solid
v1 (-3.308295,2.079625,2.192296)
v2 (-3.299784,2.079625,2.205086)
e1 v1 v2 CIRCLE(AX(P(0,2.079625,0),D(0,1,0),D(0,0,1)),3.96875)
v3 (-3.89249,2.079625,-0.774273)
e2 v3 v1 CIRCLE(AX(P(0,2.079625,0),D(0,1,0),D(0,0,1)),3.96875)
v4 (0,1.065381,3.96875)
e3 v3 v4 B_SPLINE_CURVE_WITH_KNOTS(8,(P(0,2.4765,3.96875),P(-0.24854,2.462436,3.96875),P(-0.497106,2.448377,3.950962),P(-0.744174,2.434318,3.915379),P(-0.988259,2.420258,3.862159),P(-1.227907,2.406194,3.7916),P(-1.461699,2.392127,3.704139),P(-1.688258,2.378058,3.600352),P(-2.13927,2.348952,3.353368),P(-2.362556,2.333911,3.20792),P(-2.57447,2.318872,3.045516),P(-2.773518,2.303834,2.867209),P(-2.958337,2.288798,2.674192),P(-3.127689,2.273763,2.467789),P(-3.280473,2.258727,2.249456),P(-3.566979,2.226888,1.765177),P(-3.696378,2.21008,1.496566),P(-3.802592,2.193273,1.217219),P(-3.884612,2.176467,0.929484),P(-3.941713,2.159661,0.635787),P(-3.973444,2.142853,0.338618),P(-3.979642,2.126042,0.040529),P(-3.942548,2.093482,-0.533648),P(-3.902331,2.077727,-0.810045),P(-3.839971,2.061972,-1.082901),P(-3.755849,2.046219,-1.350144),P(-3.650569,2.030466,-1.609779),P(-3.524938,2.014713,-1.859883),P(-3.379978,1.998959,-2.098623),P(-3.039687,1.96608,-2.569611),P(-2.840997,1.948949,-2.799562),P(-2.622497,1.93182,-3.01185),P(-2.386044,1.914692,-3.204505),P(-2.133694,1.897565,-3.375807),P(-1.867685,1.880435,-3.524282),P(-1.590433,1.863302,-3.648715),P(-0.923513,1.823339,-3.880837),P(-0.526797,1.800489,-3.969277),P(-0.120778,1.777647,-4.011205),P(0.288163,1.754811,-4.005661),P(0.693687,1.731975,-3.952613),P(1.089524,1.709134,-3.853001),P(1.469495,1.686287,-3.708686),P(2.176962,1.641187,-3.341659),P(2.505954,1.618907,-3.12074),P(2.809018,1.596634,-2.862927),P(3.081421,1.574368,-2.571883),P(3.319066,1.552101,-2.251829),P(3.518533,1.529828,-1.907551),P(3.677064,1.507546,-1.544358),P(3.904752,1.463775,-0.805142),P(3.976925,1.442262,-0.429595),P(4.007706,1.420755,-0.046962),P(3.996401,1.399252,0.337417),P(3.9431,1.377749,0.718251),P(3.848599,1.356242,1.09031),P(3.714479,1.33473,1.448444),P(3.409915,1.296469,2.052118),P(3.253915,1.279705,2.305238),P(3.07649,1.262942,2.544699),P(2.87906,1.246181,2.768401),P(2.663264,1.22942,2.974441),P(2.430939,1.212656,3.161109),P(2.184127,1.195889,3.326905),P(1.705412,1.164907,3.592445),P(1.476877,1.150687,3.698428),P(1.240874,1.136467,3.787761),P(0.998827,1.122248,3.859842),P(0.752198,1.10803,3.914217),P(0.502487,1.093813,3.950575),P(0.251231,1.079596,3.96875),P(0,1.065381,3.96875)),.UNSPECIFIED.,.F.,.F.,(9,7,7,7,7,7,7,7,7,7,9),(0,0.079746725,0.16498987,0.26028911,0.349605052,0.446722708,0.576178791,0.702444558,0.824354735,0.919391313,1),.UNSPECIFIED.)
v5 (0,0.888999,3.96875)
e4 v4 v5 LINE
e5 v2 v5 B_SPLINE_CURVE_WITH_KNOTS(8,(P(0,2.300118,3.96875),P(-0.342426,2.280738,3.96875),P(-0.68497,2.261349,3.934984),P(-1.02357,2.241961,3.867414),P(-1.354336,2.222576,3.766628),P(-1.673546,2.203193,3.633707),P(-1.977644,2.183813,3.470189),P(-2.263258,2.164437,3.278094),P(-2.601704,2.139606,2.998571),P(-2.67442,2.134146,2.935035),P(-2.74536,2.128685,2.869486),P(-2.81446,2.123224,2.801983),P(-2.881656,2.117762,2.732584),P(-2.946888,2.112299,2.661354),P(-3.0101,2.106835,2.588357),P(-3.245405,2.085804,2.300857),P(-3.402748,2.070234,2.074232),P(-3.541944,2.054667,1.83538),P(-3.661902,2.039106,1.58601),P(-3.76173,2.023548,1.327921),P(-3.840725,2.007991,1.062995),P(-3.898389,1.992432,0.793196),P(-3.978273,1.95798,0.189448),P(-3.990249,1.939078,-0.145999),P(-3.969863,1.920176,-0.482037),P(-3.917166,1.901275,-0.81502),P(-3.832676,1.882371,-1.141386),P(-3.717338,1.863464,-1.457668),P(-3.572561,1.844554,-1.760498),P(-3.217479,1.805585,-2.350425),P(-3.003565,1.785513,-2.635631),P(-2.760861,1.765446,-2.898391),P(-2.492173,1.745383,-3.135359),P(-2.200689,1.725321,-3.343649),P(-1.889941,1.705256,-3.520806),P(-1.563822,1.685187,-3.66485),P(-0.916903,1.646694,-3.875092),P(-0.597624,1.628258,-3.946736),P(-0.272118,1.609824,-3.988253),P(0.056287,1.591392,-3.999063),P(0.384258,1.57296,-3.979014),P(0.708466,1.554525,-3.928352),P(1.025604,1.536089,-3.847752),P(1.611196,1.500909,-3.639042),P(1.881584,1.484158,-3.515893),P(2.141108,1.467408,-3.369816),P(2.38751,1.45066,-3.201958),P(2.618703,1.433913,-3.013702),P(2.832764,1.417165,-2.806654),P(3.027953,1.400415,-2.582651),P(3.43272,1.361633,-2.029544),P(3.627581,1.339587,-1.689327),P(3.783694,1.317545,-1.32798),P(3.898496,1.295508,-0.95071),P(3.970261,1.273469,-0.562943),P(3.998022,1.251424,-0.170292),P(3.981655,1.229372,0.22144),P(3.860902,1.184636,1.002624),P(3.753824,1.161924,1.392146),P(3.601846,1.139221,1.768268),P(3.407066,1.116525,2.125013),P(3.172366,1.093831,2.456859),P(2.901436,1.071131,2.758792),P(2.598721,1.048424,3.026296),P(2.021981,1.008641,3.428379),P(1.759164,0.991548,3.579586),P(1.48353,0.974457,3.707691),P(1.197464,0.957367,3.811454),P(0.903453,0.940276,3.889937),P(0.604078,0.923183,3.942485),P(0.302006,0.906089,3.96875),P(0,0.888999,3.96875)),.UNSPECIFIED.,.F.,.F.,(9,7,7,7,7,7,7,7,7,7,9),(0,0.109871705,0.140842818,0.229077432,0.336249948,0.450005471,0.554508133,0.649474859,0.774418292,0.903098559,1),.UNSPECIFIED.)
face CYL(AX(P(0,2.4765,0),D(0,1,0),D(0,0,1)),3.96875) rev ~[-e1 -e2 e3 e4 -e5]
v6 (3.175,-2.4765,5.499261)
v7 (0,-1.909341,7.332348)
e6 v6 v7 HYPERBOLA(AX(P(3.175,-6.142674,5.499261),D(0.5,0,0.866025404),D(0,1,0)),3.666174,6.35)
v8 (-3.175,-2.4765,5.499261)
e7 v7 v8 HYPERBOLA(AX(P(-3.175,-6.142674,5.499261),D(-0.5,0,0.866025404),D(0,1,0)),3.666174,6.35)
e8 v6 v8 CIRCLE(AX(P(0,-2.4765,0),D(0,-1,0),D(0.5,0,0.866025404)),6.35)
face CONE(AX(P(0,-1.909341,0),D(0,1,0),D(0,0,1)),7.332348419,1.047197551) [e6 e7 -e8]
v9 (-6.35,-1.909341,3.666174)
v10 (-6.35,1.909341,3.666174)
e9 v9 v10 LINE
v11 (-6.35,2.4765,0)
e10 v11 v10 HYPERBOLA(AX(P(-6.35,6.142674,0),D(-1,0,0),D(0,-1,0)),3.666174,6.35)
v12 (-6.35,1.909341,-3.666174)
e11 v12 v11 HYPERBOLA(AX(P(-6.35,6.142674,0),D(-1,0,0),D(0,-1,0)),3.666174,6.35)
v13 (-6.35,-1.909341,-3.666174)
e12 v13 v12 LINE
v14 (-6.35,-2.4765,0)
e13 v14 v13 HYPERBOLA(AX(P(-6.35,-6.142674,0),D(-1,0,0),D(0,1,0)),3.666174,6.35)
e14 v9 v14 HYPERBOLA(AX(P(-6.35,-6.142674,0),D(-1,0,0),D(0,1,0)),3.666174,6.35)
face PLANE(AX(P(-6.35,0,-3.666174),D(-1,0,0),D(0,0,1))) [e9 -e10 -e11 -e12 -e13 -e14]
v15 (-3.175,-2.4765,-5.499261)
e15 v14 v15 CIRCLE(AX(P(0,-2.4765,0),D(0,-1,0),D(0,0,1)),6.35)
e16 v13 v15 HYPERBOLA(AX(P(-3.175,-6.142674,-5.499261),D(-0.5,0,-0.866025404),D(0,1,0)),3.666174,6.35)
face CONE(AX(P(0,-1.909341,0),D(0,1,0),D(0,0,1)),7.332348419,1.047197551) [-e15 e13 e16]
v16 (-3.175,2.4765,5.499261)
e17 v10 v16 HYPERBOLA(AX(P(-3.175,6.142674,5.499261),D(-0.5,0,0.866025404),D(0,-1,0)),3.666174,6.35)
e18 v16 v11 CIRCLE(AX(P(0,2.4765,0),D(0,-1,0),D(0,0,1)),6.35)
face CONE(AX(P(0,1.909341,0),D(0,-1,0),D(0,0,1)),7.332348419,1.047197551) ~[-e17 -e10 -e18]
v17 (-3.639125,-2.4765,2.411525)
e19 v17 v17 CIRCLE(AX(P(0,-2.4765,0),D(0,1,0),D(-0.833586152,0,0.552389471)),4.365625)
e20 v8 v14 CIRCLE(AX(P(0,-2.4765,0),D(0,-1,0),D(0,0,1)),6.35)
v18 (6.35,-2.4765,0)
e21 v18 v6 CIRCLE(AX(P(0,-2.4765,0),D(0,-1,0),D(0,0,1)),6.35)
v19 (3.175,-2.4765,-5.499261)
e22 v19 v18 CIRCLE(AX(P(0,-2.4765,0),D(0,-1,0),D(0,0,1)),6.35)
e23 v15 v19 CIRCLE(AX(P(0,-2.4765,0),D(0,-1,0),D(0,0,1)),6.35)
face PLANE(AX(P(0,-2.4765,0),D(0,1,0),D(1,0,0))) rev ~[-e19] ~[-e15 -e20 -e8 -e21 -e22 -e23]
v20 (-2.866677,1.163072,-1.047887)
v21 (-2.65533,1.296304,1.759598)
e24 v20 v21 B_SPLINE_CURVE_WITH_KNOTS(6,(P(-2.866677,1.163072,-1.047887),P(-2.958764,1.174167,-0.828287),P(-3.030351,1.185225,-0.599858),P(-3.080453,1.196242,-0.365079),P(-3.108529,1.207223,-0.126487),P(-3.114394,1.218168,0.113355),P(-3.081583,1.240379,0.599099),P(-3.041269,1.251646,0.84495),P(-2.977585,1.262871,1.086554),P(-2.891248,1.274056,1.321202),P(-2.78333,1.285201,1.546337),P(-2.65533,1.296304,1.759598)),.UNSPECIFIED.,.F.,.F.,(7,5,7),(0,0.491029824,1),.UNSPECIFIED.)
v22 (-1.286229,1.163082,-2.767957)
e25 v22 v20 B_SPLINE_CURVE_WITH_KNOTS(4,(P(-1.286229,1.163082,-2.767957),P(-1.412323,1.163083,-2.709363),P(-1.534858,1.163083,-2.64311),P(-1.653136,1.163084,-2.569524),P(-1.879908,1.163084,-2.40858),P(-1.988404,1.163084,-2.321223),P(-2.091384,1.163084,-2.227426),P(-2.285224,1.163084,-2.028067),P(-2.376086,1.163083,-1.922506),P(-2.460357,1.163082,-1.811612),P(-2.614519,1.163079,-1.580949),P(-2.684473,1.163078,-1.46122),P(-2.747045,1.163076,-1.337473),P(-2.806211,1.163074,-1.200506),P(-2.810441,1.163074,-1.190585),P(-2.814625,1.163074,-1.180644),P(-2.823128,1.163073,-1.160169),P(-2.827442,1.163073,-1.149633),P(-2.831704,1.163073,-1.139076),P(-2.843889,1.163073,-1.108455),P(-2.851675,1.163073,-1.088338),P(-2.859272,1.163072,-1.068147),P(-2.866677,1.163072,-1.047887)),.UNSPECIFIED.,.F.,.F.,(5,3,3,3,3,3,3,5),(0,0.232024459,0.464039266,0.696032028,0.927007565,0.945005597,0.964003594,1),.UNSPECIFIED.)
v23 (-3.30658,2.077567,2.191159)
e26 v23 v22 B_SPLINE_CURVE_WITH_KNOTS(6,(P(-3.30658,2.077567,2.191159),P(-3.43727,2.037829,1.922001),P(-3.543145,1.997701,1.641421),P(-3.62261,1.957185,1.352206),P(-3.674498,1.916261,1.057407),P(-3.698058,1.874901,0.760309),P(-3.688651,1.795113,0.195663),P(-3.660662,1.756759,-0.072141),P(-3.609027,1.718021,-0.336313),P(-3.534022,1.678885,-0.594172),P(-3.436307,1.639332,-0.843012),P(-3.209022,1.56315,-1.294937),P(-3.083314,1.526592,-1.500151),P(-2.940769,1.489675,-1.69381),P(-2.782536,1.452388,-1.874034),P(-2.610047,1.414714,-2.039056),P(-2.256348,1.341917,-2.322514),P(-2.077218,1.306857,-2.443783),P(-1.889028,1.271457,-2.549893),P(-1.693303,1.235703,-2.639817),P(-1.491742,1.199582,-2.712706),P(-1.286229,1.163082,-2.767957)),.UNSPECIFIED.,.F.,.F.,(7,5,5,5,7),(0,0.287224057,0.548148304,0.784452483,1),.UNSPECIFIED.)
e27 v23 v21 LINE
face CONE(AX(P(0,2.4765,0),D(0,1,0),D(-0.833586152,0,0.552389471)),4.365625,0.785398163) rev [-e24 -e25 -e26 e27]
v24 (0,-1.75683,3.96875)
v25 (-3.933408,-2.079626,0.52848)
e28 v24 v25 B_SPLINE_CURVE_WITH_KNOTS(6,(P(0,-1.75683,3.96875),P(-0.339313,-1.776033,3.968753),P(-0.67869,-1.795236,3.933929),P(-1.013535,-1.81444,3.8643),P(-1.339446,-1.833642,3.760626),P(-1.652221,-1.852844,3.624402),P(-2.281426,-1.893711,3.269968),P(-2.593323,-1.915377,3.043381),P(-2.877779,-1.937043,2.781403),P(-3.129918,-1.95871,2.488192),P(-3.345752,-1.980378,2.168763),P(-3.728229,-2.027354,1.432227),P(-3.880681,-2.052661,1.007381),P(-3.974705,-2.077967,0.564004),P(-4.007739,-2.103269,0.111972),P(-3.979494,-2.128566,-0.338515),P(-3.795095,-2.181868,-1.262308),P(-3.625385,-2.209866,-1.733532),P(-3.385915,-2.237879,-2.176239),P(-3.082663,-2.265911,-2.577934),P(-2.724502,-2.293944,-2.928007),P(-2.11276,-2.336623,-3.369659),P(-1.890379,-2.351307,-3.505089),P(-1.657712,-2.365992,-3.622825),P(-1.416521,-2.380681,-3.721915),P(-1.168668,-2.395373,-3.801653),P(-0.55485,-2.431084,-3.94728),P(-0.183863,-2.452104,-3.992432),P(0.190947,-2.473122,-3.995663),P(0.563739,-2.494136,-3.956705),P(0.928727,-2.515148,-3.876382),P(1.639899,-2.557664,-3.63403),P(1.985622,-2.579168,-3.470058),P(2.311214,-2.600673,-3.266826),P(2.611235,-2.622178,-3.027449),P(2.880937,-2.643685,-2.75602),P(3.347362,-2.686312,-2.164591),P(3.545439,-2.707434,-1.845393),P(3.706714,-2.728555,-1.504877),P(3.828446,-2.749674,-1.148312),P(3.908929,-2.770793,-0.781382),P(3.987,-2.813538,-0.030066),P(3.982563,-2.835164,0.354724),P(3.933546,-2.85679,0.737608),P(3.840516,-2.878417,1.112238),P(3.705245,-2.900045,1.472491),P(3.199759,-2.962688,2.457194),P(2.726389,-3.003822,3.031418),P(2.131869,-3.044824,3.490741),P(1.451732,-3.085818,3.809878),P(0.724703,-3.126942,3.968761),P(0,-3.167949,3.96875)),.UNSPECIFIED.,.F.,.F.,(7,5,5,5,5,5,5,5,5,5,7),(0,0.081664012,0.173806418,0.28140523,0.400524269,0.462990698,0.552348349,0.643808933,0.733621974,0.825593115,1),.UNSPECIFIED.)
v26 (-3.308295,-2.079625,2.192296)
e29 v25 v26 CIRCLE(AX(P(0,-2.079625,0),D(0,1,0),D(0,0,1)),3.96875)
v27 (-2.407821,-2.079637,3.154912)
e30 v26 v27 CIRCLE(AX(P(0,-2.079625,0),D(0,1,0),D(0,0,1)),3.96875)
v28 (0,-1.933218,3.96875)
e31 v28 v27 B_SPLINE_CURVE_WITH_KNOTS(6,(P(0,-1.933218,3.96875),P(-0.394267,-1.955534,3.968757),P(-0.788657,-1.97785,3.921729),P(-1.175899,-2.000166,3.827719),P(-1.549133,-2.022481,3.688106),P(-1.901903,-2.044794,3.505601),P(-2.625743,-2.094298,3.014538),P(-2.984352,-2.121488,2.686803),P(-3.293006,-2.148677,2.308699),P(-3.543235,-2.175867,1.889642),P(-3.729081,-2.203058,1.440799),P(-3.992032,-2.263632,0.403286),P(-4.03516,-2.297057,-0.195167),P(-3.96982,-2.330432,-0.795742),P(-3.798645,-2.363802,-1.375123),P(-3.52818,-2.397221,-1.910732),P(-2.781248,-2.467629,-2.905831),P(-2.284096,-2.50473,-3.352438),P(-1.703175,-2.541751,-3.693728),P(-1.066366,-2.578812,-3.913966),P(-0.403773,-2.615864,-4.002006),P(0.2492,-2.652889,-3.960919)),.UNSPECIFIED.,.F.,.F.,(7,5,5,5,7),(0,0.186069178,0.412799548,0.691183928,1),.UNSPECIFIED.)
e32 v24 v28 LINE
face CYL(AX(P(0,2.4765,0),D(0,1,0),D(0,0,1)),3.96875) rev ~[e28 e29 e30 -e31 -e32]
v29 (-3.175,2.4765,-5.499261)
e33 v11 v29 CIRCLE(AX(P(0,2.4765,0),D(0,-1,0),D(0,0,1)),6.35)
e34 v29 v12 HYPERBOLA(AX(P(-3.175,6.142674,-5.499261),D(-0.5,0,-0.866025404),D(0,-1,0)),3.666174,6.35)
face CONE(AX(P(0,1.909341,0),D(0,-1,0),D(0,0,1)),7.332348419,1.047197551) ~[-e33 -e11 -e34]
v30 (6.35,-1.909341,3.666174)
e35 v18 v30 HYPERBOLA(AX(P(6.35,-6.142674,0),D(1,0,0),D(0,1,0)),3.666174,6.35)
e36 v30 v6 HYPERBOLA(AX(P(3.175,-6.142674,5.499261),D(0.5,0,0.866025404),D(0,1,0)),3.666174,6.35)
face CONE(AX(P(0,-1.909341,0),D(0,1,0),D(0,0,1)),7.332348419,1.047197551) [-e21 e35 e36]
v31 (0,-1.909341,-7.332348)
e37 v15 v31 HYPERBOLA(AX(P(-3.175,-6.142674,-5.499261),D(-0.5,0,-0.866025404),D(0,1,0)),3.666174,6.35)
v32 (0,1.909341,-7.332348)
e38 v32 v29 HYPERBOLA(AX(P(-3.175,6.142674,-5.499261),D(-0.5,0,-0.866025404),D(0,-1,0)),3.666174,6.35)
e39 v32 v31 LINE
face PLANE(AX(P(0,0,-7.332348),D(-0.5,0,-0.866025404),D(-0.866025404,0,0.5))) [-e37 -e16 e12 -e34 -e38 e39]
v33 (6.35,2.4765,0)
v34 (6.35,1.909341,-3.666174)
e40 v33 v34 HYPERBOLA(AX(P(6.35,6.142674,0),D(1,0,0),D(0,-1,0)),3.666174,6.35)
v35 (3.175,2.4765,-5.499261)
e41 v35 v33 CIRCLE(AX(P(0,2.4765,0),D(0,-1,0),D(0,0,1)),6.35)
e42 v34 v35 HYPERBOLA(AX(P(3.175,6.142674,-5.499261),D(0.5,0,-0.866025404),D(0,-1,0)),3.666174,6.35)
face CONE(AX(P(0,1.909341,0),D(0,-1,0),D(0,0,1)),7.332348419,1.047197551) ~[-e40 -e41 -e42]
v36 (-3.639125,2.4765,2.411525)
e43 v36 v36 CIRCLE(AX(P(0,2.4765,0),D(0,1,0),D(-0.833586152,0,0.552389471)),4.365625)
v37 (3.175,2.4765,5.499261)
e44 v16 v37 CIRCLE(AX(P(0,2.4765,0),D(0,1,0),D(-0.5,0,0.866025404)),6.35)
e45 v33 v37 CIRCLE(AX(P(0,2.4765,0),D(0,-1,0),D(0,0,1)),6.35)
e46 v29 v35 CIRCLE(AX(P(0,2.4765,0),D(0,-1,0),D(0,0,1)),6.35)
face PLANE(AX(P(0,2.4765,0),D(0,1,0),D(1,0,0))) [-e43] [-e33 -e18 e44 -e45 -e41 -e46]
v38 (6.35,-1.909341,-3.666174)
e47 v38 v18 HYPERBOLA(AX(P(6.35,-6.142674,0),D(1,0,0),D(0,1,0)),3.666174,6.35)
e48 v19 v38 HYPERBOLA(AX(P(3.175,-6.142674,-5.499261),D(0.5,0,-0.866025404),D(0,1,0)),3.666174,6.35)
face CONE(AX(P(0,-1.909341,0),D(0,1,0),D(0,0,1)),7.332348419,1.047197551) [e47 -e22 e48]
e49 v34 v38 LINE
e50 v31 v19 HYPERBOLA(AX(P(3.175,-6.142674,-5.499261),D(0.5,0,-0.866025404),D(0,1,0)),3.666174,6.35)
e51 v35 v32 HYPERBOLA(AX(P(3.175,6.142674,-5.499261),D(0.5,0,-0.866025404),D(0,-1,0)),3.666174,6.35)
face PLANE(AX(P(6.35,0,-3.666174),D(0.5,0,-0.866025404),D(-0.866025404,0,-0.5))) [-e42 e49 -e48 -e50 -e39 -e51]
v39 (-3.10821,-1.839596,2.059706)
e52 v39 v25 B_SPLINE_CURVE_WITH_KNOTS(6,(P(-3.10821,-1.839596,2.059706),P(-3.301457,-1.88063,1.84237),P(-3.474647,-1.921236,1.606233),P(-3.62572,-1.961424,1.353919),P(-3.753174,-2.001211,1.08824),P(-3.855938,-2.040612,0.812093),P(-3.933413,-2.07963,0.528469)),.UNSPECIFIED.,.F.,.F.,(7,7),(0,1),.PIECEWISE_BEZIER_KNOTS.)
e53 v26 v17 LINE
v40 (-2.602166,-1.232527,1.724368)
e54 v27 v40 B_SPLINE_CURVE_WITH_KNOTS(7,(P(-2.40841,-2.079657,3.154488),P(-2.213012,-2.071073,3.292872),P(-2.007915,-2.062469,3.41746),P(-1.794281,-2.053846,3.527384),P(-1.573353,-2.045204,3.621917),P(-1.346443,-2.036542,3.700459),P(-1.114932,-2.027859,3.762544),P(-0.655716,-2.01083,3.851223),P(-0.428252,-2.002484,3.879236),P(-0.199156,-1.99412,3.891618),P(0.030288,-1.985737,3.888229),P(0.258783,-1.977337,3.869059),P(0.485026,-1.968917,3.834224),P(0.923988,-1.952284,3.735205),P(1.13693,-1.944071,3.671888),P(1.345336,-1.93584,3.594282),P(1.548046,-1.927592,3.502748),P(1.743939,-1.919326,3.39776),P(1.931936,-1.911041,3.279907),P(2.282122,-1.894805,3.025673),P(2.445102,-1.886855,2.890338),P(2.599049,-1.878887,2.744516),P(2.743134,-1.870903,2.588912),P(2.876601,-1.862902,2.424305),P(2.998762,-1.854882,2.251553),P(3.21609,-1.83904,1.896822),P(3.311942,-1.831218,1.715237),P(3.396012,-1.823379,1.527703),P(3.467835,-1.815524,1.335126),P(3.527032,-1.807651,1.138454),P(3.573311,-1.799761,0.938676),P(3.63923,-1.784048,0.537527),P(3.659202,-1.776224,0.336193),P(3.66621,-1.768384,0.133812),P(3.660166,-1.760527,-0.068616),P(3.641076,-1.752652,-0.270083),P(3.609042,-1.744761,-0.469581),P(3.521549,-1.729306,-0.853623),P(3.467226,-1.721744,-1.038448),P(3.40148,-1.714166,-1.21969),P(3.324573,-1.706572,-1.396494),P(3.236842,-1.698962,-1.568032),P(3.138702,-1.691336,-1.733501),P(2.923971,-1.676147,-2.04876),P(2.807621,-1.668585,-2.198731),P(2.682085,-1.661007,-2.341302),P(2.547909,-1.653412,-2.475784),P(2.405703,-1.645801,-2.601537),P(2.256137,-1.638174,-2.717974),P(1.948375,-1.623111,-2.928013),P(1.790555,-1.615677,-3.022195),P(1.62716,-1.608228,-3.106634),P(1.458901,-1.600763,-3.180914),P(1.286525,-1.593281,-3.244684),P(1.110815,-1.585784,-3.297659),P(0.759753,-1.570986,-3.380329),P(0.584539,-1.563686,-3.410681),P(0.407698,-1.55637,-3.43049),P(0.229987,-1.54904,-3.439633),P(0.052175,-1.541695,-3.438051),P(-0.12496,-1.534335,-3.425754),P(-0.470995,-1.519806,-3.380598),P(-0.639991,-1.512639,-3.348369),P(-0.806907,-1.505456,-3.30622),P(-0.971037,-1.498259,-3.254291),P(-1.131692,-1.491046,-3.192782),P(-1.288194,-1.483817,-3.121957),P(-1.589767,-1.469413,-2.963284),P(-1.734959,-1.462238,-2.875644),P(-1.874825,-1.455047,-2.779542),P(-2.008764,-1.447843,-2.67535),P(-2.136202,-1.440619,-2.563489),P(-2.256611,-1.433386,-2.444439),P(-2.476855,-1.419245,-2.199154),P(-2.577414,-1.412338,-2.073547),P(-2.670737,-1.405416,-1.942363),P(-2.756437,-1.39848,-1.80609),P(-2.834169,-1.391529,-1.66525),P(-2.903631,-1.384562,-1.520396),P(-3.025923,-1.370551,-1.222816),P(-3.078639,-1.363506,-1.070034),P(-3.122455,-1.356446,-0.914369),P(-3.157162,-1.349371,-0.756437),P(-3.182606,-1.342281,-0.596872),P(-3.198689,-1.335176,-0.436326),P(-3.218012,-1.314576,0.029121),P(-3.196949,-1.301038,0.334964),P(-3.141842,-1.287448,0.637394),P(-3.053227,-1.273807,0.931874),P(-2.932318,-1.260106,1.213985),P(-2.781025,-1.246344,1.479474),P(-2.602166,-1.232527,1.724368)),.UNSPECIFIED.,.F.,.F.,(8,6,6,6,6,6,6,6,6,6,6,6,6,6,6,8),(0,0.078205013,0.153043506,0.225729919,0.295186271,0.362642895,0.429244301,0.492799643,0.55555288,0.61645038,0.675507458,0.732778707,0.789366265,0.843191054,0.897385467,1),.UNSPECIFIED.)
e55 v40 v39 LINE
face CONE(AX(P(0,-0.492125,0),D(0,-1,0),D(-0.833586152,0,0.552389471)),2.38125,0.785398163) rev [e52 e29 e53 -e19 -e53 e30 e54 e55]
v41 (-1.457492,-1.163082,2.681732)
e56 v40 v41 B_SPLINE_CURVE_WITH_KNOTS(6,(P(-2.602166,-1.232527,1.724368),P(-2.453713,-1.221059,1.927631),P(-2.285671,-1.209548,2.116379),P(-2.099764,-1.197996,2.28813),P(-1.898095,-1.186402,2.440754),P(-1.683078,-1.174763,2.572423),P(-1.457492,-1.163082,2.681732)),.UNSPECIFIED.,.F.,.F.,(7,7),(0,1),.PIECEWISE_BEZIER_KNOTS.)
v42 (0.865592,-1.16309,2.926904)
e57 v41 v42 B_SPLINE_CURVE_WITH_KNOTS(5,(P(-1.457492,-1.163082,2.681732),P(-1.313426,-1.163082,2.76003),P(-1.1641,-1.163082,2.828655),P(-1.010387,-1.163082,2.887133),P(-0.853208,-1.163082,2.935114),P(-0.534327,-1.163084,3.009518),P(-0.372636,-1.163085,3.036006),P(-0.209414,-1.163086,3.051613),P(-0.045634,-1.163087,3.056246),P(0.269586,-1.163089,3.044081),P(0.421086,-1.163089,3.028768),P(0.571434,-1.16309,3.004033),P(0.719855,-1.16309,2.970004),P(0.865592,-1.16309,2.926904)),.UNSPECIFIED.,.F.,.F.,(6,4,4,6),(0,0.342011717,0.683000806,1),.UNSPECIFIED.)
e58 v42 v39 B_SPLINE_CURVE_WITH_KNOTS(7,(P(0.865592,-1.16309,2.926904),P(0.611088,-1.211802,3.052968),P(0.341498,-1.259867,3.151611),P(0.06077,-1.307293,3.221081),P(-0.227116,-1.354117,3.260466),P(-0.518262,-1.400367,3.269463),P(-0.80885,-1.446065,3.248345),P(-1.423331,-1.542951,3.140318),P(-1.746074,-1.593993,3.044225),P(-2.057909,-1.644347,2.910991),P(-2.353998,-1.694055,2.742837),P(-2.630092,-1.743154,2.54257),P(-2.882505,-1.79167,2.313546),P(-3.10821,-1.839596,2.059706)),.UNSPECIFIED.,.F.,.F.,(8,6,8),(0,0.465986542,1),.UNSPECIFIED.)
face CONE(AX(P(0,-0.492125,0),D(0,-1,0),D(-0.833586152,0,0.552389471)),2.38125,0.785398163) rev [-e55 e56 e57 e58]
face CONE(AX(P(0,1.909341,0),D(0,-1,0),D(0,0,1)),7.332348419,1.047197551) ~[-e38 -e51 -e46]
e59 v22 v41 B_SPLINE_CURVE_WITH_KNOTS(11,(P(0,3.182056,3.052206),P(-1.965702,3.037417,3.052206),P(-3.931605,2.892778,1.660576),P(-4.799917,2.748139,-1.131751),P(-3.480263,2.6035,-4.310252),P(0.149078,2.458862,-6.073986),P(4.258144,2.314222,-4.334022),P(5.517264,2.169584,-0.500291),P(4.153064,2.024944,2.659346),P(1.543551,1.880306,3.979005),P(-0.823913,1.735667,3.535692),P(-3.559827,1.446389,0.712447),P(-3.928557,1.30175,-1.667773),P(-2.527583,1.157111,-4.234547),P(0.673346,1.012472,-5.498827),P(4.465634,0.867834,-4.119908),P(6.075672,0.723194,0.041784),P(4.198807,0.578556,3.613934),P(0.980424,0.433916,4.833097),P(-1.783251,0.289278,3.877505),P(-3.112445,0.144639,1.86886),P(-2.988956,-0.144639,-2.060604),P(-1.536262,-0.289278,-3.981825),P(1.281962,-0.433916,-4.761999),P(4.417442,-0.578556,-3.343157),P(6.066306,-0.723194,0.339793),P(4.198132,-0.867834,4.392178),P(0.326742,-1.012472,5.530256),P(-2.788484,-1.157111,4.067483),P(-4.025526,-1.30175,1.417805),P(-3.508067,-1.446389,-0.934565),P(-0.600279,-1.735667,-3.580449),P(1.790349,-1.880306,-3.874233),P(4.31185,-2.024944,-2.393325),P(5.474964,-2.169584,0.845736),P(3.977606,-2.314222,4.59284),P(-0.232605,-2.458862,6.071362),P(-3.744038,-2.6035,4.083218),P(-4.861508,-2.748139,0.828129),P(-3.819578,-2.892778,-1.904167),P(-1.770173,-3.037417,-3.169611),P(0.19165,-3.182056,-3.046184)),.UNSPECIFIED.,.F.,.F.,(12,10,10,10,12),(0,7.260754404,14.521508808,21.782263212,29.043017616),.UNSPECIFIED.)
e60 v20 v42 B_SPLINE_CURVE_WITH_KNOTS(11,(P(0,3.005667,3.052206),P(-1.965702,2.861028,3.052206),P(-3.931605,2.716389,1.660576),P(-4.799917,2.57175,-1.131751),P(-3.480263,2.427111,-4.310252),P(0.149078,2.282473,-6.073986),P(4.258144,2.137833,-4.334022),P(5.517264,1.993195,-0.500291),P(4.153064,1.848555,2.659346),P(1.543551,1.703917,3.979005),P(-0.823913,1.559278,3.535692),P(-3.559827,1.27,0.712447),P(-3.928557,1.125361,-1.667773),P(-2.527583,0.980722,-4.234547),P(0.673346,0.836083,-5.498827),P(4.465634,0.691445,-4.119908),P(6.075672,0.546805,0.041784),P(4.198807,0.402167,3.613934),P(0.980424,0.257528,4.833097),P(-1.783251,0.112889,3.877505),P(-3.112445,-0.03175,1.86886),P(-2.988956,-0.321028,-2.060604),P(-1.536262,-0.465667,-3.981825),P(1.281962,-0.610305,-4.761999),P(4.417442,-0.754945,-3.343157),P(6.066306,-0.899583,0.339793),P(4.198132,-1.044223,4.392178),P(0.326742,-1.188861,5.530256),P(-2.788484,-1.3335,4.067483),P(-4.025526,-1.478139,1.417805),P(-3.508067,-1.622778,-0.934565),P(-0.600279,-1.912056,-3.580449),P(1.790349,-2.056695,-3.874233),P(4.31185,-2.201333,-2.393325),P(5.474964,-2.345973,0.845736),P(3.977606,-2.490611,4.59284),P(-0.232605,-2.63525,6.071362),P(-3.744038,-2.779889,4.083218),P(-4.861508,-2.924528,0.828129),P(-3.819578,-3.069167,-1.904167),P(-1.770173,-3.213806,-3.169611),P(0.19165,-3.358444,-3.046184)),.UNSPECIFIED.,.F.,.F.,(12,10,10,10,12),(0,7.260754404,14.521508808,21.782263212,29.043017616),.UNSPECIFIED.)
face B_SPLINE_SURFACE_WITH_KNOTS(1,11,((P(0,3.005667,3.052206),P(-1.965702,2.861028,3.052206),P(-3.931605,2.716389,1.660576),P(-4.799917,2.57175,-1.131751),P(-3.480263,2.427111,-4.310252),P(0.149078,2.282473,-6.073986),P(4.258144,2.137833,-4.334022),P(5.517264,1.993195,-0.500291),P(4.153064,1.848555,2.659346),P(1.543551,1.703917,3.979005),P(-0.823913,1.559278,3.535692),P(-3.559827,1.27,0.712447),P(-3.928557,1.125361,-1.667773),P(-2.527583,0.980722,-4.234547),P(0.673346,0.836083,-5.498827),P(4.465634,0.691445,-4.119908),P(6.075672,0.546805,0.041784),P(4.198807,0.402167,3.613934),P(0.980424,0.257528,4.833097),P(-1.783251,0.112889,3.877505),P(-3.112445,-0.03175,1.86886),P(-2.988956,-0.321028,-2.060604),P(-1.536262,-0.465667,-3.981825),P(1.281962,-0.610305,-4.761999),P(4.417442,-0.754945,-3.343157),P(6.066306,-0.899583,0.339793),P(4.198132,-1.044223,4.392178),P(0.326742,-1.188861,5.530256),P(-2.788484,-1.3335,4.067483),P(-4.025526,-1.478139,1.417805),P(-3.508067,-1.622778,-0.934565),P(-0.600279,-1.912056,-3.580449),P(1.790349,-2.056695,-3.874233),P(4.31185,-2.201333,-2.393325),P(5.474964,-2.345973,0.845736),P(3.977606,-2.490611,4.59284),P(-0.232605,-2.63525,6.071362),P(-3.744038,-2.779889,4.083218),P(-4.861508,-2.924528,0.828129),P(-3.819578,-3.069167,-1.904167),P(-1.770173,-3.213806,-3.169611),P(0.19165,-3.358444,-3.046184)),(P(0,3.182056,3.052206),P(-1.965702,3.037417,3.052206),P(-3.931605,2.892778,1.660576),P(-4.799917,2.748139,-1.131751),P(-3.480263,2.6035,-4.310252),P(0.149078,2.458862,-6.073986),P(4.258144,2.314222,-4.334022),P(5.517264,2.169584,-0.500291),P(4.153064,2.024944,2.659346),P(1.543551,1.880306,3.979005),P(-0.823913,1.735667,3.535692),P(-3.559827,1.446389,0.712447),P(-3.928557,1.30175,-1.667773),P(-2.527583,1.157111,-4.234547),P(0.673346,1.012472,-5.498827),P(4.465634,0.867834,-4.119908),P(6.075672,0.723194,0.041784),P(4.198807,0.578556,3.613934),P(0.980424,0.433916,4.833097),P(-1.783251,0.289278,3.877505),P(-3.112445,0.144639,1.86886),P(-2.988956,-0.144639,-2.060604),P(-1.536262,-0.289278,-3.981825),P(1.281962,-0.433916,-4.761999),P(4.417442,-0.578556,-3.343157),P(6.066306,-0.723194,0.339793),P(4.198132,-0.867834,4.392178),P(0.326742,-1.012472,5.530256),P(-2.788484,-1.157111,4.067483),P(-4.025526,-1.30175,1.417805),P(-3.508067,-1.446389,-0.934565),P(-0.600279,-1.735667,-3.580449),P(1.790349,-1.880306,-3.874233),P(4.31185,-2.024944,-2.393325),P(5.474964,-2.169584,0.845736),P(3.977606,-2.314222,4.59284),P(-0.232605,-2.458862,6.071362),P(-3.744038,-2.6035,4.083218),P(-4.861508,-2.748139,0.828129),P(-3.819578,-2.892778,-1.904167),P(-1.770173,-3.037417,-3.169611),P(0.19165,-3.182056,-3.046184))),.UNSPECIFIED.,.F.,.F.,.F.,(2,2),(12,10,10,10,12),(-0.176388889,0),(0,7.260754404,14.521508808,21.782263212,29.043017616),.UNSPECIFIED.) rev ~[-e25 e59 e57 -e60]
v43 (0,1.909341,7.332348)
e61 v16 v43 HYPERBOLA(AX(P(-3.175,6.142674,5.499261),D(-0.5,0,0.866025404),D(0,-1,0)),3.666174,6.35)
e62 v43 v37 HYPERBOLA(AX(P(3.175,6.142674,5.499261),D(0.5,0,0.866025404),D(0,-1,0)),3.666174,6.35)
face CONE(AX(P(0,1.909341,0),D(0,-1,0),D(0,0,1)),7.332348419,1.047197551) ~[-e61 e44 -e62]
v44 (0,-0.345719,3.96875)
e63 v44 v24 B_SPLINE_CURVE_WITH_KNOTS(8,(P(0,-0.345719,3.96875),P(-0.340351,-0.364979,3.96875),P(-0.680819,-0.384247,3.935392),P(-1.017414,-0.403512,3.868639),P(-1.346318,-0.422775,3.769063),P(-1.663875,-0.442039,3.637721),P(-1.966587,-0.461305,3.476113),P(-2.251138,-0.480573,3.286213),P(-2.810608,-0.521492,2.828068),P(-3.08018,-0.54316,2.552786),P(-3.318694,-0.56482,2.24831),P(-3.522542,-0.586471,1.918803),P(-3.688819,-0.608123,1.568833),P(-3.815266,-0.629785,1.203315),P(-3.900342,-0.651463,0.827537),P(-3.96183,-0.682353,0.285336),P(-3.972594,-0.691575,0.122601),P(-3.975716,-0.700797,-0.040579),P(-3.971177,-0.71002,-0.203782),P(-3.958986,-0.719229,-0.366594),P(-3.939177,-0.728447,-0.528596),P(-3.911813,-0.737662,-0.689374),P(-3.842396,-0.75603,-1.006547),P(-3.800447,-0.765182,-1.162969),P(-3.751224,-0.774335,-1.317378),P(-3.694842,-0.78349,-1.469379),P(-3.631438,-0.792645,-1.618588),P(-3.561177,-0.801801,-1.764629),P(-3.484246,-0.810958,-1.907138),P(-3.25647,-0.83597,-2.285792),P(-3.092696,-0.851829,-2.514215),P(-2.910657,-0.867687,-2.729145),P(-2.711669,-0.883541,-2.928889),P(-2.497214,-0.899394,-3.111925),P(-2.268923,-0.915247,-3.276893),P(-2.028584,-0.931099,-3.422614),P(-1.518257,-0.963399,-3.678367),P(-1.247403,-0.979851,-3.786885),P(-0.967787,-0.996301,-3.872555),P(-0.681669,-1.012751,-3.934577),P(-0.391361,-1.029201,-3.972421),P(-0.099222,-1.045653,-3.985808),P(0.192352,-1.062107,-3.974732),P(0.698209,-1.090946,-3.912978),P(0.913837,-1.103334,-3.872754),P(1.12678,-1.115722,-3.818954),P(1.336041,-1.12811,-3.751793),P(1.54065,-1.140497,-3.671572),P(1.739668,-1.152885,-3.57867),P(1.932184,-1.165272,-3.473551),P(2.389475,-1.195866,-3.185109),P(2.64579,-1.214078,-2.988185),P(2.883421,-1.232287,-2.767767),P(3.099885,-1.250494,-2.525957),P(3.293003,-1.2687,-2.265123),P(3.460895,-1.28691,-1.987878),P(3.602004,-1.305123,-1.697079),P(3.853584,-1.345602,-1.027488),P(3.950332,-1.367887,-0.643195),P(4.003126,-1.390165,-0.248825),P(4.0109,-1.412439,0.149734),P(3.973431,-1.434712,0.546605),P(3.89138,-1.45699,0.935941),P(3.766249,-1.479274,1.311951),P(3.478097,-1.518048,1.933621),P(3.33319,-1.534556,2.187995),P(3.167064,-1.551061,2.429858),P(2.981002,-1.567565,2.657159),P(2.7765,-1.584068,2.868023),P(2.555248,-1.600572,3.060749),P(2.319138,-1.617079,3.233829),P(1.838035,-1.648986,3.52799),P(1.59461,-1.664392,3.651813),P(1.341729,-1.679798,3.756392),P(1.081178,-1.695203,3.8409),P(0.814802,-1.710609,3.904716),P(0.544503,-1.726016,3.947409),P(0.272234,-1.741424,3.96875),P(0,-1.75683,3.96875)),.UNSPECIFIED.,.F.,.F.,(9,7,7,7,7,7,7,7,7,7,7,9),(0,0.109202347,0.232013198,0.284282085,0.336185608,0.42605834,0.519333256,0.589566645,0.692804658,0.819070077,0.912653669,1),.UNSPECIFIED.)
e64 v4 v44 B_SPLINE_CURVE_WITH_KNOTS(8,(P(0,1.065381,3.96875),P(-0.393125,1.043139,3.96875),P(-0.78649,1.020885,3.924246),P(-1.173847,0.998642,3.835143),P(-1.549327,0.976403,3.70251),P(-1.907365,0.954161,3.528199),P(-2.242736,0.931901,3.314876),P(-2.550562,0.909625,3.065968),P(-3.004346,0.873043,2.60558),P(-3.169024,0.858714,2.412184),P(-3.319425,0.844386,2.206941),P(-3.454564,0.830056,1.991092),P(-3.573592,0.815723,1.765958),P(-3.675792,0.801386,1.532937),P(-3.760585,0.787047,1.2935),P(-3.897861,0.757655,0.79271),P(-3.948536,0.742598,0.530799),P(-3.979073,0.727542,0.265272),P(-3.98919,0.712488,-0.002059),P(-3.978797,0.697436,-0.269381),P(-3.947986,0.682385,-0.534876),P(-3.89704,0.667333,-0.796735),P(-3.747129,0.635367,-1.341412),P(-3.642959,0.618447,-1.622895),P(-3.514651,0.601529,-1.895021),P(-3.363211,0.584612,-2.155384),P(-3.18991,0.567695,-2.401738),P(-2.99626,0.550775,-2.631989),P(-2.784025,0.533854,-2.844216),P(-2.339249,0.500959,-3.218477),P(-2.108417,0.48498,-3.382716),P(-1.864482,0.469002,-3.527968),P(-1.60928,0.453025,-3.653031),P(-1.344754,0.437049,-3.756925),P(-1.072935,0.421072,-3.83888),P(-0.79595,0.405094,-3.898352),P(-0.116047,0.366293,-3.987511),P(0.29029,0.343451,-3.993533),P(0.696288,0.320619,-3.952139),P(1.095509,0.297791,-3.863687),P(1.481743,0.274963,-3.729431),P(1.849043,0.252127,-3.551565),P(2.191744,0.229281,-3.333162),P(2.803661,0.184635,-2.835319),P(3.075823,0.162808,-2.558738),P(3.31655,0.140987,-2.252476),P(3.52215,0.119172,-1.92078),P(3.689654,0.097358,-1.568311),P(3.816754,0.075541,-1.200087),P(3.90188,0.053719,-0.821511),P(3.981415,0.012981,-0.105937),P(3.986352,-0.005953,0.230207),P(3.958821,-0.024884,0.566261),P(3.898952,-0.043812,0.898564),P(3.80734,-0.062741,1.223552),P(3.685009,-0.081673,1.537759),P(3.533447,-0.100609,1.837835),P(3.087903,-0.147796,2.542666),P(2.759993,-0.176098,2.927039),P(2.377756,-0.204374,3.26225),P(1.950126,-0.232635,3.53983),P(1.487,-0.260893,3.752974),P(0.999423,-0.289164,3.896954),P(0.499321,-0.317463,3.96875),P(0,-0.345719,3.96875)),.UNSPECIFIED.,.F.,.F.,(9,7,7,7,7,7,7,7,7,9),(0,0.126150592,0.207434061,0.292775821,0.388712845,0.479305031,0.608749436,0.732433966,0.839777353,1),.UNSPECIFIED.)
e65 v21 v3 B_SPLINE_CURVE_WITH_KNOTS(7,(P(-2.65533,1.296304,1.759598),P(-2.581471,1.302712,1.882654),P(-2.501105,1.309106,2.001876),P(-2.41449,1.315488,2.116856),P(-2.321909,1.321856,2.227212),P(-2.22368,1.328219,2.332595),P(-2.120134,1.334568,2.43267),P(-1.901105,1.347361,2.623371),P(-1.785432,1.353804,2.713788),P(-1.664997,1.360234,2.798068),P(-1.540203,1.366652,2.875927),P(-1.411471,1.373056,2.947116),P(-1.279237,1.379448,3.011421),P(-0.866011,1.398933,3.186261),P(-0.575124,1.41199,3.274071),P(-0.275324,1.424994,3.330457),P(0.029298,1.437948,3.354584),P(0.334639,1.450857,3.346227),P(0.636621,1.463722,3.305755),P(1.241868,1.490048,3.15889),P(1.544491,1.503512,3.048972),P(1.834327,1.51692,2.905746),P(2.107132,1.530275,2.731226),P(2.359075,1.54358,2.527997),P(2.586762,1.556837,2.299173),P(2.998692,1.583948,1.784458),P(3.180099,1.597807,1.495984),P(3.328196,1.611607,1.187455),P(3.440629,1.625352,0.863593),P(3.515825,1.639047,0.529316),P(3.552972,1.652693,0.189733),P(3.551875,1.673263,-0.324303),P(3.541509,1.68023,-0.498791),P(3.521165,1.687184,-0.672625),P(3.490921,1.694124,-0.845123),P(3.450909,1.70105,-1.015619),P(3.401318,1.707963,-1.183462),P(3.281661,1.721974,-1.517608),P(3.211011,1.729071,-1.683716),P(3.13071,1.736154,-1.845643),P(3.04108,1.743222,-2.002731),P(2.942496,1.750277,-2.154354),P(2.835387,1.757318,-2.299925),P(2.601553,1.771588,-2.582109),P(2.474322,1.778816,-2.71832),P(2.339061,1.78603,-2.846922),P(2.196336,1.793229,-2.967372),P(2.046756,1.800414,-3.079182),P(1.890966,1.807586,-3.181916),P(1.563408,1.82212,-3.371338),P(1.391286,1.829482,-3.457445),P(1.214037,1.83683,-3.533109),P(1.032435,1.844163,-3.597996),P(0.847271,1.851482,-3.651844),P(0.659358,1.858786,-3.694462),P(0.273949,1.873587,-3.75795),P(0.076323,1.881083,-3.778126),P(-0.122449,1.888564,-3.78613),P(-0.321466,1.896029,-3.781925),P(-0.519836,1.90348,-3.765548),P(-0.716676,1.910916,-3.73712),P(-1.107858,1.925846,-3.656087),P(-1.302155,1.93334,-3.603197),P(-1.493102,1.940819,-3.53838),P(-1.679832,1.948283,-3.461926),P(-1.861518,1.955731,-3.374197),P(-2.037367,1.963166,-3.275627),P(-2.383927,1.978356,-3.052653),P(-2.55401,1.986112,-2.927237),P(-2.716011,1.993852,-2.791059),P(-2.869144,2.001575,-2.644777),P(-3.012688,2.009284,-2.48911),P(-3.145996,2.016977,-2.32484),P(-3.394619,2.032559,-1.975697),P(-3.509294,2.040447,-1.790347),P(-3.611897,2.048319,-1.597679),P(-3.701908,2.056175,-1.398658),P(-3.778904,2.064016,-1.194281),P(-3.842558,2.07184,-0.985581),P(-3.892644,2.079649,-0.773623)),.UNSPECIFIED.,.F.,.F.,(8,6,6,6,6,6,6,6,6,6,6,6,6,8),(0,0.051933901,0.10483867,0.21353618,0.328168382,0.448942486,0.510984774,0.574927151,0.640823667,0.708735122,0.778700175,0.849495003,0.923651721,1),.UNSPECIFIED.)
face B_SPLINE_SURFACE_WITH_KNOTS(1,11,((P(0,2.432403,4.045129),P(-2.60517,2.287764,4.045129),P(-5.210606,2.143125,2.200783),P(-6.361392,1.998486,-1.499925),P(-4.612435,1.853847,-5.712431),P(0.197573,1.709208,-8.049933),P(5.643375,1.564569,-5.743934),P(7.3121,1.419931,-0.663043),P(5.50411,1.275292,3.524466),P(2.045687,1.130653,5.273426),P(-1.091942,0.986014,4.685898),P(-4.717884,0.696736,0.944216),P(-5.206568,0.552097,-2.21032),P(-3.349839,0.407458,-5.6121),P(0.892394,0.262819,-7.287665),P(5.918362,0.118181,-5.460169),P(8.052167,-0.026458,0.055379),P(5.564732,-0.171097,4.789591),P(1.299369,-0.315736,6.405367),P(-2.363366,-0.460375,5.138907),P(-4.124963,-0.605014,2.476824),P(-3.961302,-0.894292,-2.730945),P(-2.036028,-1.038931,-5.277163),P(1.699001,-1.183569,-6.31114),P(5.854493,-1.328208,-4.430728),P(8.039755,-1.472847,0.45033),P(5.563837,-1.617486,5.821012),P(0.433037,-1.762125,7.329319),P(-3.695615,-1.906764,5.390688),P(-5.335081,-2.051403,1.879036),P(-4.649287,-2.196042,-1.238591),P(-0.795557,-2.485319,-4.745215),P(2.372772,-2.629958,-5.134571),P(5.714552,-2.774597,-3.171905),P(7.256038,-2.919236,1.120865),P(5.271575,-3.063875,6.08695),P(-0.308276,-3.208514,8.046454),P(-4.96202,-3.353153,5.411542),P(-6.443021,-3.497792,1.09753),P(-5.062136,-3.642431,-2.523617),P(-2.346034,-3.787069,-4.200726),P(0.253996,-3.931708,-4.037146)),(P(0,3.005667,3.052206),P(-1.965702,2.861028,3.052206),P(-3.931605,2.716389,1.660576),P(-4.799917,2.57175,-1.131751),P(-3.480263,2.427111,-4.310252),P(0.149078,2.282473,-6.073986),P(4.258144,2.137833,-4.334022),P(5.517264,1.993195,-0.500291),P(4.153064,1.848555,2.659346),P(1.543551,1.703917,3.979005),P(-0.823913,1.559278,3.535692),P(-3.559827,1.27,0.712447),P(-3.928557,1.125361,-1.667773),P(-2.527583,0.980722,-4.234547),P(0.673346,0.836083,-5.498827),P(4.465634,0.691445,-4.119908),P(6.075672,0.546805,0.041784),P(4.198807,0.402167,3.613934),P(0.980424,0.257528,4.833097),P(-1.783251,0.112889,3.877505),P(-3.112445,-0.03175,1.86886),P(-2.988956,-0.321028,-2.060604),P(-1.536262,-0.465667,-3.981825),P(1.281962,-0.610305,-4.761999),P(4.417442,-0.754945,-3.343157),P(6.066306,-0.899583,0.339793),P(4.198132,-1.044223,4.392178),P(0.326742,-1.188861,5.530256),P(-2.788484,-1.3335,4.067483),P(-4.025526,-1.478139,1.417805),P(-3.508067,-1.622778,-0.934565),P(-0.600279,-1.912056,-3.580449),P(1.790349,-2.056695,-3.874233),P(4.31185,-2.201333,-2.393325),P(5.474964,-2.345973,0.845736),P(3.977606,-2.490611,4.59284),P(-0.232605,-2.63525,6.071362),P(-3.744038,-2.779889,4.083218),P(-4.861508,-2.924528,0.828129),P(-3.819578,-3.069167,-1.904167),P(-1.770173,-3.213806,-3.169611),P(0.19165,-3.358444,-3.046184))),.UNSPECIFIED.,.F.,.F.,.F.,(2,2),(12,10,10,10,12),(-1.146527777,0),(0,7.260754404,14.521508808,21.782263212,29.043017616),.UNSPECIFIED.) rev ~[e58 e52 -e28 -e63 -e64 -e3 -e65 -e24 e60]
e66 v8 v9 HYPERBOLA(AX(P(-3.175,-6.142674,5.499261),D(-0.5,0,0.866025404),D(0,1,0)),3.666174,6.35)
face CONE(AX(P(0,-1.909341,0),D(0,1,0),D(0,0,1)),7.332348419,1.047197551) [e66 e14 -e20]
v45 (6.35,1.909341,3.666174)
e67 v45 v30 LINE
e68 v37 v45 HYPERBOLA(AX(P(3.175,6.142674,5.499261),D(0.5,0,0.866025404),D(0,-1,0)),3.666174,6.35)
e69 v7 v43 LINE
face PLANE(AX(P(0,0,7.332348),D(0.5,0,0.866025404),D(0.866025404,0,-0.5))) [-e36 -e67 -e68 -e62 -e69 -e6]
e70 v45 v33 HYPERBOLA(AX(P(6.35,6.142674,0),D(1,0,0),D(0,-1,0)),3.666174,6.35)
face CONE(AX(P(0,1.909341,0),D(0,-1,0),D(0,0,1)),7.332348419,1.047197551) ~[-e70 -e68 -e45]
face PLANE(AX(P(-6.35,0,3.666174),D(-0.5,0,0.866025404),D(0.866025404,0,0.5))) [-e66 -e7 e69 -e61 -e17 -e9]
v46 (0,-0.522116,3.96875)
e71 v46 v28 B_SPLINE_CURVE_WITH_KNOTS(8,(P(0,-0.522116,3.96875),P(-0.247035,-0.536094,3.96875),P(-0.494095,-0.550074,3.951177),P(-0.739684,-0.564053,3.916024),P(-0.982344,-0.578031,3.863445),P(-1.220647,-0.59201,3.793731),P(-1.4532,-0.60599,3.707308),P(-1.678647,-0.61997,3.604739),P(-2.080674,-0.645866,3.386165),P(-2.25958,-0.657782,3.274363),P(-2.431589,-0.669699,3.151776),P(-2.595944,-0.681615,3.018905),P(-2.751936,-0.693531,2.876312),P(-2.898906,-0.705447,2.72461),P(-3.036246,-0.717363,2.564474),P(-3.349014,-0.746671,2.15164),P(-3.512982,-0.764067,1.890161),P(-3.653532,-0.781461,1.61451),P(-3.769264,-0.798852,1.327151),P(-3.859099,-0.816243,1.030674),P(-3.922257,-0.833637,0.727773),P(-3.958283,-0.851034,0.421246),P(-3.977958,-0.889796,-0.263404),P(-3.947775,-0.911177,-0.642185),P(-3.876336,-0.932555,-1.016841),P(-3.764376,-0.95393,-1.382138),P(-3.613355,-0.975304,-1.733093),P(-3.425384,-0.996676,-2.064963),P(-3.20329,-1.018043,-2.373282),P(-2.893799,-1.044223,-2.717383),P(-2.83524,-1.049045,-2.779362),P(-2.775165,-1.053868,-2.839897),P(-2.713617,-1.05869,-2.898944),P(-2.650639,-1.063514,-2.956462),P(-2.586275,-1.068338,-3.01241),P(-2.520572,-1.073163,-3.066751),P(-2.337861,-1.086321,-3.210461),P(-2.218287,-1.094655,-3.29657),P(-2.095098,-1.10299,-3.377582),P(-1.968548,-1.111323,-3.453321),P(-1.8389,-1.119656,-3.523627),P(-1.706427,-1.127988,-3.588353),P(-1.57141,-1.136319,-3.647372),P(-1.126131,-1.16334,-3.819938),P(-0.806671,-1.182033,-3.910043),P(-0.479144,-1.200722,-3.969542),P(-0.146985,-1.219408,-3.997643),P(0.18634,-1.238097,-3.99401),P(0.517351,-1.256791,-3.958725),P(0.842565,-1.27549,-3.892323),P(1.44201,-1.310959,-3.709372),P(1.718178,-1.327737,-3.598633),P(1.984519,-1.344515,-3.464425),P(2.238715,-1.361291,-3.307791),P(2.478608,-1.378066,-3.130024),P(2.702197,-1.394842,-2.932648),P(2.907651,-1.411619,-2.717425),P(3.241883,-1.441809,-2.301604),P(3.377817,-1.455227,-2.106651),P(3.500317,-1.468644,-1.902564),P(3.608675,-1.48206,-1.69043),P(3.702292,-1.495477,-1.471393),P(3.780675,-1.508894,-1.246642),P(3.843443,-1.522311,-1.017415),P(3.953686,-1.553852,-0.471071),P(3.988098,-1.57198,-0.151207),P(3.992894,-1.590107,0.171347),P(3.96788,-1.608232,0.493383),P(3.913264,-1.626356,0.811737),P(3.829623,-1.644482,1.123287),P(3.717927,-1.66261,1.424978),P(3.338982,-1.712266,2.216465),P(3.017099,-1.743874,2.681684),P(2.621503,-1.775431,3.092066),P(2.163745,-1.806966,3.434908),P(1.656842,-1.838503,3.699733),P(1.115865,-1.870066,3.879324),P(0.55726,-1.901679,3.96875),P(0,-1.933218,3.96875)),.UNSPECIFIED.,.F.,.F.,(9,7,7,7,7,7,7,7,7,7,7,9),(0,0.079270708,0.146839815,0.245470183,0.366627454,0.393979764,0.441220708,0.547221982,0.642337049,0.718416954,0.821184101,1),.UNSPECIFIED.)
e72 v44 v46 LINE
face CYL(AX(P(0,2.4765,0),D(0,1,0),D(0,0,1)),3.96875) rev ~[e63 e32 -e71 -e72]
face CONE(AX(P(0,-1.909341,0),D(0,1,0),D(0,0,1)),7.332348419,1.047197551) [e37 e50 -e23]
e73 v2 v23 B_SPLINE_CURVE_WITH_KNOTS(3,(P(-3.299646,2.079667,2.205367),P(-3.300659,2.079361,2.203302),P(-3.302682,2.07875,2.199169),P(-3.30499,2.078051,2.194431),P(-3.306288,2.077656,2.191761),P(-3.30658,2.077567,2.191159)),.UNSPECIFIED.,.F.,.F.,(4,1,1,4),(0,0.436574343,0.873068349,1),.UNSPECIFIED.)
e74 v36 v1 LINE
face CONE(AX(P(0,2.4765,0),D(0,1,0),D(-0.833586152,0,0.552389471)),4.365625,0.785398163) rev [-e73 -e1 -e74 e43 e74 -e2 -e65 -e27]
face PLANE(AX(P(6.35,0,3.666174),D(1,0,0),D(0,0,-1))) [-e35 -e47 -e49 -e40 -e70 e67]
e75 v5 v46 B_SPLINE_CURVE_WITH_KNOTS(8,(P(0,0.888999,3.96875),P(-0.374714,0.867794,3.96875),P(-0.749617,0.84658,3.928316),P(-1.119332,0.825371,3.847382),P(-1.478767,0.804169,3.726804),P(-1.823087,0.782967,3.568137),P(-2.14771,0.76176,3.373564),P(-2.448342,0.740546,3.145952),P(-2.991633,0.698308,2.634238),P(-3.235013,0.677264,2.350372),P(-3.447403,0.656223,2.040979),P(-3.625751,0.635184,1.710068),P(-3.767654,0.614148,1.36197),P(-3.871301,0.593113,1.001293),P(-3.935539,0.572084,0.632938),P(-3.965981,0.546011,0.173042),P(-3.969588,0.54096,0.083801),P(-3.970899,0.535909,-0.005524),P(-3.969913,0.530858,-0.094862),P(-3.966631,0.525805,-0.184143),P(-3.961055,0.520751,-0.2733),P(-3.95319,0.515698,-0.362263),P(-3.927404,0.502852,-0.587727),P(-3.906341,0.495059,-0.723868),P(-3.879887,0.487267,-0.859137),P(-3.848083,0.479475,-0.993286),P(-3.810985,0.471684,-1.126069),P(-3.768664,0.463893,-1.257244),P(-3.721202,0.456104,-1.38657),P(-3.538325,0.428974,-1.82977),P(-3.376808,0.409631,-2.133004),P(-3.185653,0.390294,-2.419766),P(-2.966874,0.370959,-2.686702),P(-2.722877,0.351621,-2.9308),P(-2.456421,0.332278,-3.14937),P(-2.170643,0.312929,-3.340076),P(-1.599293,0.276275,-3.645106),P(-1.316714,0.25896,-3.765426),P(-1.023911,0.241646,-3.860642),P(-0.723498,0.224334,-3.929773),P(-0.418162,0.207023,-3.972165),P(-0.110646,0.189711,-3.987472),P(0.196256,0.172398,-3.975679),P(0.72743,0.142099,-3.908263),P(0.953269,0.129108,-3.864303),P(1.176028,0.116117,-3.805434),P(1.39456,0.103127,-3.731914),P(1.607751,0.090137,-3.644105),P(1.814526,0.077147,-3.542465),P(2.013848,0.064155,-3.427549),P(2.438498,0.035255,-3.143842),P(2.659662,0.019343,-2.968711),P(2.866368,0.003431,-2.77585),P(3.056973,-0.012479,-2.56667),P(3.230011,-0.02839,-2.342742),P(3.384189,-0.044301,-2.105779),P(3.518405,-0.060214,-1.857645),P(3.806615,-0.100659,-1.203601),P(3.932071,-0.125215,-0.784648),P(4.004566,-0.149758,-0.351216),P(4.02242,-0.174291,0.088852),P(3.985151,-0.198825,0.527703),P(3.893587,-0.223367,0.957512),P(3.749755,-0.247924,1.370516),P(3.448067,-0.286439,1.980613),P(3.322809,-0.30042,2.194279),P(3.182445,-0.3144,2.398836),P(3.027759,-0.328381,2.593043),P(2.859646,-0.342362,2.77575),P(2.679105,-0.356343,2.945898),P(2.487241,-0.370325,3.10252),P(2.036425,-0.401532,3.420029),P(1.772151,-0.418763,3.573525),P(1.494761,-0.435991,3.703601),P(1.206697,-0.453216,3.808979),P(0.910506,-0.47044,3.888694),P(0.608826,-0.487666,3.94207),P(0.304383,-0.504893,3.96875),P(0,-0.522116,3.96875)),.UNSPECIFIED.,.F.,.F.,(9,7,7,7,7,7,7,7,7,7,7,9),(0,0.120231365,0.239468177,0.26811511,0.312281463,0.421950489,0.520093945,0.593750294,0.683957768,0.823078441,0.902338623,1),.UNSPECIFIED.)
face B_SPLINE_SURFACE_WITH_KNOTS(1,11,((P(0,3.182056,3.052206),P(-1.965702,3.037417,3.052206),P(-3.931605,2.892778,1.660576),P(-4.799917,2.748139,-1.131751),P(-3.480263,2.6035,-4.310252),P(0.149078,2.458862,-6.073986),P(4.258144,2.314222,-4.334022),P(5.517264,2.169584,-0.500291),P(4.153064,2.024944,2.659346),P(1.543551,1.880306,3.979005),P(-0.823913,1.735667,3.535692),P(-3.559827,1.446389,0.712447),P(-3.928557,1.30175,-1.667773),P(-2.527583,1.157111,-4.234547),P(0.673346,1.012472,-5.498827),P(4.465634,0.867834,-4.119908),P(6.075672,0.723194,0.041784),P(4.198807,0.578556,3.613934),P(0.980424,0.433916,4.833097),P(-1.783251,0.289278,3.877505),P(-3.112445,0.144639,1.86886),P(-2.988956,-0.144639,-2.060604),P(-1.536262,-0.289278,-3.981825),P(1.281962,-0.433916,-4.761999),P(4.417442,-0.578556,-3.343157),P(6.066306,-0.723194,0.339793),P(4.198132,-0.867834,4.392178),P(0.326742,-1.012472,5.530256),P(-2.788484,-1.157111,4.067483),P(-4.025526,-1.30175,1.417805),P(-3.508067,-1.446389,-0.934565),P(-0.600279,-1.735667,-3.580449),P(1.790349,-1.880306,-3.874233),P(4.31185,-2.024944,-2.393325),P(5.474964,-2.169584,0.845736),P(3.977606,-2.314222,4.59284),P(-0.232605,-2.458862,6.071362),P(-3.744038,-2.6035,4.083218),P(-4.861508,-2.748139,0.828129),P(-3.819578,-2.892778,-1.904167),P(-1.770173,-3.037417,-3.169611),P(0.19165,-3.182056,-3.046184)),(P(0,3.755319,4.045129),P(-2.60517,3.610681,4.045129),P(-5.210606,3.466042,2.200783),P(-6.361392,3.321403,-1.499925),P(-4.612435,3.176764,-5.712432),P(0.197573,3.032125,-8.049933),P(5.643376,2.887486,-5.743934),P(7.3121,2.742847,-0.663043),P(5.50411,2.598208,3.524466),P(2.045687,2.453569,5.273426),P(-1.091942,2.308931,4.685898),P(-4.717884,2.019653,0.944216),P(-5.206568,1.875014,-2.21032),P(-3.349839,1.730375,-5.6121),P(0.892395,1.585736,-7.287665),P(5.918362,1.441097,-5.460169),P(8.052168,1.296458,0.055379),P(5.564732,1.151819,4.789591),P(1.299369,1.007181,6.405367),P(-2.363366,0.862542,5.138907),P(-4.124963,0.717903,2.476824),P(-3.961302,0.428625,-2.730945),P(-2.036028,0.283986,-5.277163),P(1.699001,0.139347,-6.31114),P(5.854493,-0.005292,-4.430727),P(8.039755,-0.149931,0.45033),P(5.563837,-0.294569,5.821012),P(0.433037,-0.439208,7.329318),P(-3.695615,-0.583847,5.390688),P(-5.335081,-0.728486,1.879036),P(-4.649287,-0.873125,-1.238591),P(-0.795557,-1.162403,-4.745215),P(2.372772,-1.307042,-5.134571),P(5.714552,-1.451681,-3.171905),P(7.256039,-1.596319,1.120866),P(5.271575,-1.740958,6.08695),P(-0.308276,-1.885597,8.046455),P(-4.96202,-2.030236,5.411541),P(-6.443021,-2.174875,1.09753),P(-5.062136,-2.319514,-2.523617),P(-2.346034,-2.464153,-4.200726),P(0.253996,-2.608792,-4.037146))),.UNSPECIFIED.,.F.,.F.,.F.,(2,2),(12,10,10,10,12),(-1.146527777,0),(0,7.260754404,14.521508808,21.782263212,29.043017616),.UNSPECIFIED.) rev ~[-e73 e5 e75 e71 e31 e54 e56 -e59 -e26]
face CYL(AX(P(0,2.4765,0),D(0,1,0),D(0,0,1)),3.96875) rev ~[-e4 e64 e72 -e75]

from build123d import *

# Parameters (mm, degrees)
SKETCH2_R                = 3.96875
BOSS_EXTRUDE1_DEPTH      = 2.4765
BOSS_EXTRUDE1_DEPTH_BACK = 2.4765
SKETCH4_R                = 3.96875
BOSS_EXTRUDE2_DEPTH      = 4.953
CUT_SWEEP1_PITCH         = 1.411111111
CUT_SWEEP1_HEIGHT        = 6.364111111
CUT_SWEEP1_RADIUS        = 3.96875
CUT_SWEEP1_START_ANGLE   = 180
SKETCH8_R                = 4.365625
BOSS_EXTRUDE3_DEPTH      = 4.953


with BuildPart() as part:
    # Sketch2 → Boss-Extrude1 (new, two sides)
    with BuildSketch(Plane(origin=(0, 0, 0), x_dir=(1, 0, 0), z_dir=(0, 1, 0))) as boss_extrude1_sk:
        Polygon((0, 7.332348419), (-6.35, 3.666174209), (-6.35, -3.666174209), (0, -7.332348419), (6.35, -3.666174209), (6.35, 3.666174209), align=None)
        with Locations(Location((0, 0, 0), (0, 0, 270))):
            Circle(SKETCH2_R, mode=Mode.SUBTRACT)
    extrude(amount=BOSS_EXTRUDE1_DEPTH)
    extrude(boss_extrude1_sk.sketch, amount=-BOSS_EXTRUDE1_DEPTH_BACK)

    # Sketch3 → Cut-Revolve1 (revolve, cut)
    with BuildSketch(Plane(origin=(0, 0, 0), x_dir=(0, 0, -1), z_dir=(1, 0, 0))):
        Polygon((-7.332348419, 1.909340876), (-6.35, 2.4765), (-7.332348419, 2.4765), align=None)
        Polygon((-7.332348419, -1.909340876), (-6.35, -2.4765), (-7.332348419, -2.4765), align=None)
        Polygon((-4.365625, 2.4765), (-3.96875, 2.4765), (-3.96875, 2.079625), align=None)
        Polygon((-4.365625, -2.4765), (-3.96875, -2.4765), (-3.96875, -2.079625), align=None)
    revolve(axis=Axis((0, 2.4765, 0), (0, -1, 0)), mode=Mode.SUBTRACT)

    # Sketch8 → Boss-Extrude3 (add)
    with BuildSketch(Plane(origin=(0, 2.4765, 0), x_dir=(1, 0, 0), z_dir=(0, 1, 0))):
        Circle(SKETCH8_R)
    extrude(amount=-BOSS_EXTRUDE3_DEPTH)


with BuildPart() as body_2:
    # Sketch4 → Boss-Extrude2 (new body)
    with BuildSketch(Plane(origin=(0, 2.4765, 0), x_dir=(1, 0, 0), z_dir=(0, 1, 0))):
        with Locations(Location((0, 0, 0), (0, 0, 270))):
            Circle(SKETCH4_R)
    extrude(amount=-BOSS_EXTRUDE2_DEPTH)

    # Cut-Sweep1: sweep along a helix
    with BuildLine() as cut_sweep1_path:
        add(Helix(CUT_SWEEP1_PITCH, CUT_SWEEP1_HEIGHT, CUT_SWEEP1_RADIUS, center=(0, 2.4765, 0), direction=(0, -1, 0), mode=Mode.PRIVATE).rotate(Axis((0, 2.4765, 0), (0, -1, 0)), CUT_SWEEP1_START_ANGLE))
    # Sketch6 → Cut-Sweep1 (sweep, cut)
    with BuildSketch(Plane(origin=(0, 0, 0), x_dir=(0, 0, -1), z_dir=(1, 0, 0))):
        Polygon((-4.045128629, 2.432402778), (-4.045128629, 3.755319444), (-3.052206448, 3.182055556), (-3.052206448, 3.005666667), align=None)
    sweep(path=cut_sweep1_path.line, is_frenet=True, mode=Mode.SUBTRACT)

    # Sketch7 → Revolve1 (revolve)
    with BuildSketch(Plane(origin=(0, 0, 0), x_dir=(0, 0, -1), z_dir=(1, 0, 0)), mode=Mode.PRIVATE) as revolve1_sk:
        Polygon((-4.365625, 2.4765), (-2.38125, 0.492125), (0, 0.492125), (0, 2.4765), align=None)
        Polygon((-4.365625, -2.4765), (0, -2.4765), (0, -0.492125), (-2.38125, -0.492125), align=None)
    revolve(revolve1_sk.sketch.rotate(Axis((0, -2.4765, 0), (0, 1, 0)), 303.531095579), axis=Axis((0, -2.4765, 0), (0, 1, 0)))


with BuildPart() as part_1:
    add(part.part)

    # Combine1: cut body 2
    add(body_2.part, mode=Mode.SUBTRACT)


solid = part_1.part
